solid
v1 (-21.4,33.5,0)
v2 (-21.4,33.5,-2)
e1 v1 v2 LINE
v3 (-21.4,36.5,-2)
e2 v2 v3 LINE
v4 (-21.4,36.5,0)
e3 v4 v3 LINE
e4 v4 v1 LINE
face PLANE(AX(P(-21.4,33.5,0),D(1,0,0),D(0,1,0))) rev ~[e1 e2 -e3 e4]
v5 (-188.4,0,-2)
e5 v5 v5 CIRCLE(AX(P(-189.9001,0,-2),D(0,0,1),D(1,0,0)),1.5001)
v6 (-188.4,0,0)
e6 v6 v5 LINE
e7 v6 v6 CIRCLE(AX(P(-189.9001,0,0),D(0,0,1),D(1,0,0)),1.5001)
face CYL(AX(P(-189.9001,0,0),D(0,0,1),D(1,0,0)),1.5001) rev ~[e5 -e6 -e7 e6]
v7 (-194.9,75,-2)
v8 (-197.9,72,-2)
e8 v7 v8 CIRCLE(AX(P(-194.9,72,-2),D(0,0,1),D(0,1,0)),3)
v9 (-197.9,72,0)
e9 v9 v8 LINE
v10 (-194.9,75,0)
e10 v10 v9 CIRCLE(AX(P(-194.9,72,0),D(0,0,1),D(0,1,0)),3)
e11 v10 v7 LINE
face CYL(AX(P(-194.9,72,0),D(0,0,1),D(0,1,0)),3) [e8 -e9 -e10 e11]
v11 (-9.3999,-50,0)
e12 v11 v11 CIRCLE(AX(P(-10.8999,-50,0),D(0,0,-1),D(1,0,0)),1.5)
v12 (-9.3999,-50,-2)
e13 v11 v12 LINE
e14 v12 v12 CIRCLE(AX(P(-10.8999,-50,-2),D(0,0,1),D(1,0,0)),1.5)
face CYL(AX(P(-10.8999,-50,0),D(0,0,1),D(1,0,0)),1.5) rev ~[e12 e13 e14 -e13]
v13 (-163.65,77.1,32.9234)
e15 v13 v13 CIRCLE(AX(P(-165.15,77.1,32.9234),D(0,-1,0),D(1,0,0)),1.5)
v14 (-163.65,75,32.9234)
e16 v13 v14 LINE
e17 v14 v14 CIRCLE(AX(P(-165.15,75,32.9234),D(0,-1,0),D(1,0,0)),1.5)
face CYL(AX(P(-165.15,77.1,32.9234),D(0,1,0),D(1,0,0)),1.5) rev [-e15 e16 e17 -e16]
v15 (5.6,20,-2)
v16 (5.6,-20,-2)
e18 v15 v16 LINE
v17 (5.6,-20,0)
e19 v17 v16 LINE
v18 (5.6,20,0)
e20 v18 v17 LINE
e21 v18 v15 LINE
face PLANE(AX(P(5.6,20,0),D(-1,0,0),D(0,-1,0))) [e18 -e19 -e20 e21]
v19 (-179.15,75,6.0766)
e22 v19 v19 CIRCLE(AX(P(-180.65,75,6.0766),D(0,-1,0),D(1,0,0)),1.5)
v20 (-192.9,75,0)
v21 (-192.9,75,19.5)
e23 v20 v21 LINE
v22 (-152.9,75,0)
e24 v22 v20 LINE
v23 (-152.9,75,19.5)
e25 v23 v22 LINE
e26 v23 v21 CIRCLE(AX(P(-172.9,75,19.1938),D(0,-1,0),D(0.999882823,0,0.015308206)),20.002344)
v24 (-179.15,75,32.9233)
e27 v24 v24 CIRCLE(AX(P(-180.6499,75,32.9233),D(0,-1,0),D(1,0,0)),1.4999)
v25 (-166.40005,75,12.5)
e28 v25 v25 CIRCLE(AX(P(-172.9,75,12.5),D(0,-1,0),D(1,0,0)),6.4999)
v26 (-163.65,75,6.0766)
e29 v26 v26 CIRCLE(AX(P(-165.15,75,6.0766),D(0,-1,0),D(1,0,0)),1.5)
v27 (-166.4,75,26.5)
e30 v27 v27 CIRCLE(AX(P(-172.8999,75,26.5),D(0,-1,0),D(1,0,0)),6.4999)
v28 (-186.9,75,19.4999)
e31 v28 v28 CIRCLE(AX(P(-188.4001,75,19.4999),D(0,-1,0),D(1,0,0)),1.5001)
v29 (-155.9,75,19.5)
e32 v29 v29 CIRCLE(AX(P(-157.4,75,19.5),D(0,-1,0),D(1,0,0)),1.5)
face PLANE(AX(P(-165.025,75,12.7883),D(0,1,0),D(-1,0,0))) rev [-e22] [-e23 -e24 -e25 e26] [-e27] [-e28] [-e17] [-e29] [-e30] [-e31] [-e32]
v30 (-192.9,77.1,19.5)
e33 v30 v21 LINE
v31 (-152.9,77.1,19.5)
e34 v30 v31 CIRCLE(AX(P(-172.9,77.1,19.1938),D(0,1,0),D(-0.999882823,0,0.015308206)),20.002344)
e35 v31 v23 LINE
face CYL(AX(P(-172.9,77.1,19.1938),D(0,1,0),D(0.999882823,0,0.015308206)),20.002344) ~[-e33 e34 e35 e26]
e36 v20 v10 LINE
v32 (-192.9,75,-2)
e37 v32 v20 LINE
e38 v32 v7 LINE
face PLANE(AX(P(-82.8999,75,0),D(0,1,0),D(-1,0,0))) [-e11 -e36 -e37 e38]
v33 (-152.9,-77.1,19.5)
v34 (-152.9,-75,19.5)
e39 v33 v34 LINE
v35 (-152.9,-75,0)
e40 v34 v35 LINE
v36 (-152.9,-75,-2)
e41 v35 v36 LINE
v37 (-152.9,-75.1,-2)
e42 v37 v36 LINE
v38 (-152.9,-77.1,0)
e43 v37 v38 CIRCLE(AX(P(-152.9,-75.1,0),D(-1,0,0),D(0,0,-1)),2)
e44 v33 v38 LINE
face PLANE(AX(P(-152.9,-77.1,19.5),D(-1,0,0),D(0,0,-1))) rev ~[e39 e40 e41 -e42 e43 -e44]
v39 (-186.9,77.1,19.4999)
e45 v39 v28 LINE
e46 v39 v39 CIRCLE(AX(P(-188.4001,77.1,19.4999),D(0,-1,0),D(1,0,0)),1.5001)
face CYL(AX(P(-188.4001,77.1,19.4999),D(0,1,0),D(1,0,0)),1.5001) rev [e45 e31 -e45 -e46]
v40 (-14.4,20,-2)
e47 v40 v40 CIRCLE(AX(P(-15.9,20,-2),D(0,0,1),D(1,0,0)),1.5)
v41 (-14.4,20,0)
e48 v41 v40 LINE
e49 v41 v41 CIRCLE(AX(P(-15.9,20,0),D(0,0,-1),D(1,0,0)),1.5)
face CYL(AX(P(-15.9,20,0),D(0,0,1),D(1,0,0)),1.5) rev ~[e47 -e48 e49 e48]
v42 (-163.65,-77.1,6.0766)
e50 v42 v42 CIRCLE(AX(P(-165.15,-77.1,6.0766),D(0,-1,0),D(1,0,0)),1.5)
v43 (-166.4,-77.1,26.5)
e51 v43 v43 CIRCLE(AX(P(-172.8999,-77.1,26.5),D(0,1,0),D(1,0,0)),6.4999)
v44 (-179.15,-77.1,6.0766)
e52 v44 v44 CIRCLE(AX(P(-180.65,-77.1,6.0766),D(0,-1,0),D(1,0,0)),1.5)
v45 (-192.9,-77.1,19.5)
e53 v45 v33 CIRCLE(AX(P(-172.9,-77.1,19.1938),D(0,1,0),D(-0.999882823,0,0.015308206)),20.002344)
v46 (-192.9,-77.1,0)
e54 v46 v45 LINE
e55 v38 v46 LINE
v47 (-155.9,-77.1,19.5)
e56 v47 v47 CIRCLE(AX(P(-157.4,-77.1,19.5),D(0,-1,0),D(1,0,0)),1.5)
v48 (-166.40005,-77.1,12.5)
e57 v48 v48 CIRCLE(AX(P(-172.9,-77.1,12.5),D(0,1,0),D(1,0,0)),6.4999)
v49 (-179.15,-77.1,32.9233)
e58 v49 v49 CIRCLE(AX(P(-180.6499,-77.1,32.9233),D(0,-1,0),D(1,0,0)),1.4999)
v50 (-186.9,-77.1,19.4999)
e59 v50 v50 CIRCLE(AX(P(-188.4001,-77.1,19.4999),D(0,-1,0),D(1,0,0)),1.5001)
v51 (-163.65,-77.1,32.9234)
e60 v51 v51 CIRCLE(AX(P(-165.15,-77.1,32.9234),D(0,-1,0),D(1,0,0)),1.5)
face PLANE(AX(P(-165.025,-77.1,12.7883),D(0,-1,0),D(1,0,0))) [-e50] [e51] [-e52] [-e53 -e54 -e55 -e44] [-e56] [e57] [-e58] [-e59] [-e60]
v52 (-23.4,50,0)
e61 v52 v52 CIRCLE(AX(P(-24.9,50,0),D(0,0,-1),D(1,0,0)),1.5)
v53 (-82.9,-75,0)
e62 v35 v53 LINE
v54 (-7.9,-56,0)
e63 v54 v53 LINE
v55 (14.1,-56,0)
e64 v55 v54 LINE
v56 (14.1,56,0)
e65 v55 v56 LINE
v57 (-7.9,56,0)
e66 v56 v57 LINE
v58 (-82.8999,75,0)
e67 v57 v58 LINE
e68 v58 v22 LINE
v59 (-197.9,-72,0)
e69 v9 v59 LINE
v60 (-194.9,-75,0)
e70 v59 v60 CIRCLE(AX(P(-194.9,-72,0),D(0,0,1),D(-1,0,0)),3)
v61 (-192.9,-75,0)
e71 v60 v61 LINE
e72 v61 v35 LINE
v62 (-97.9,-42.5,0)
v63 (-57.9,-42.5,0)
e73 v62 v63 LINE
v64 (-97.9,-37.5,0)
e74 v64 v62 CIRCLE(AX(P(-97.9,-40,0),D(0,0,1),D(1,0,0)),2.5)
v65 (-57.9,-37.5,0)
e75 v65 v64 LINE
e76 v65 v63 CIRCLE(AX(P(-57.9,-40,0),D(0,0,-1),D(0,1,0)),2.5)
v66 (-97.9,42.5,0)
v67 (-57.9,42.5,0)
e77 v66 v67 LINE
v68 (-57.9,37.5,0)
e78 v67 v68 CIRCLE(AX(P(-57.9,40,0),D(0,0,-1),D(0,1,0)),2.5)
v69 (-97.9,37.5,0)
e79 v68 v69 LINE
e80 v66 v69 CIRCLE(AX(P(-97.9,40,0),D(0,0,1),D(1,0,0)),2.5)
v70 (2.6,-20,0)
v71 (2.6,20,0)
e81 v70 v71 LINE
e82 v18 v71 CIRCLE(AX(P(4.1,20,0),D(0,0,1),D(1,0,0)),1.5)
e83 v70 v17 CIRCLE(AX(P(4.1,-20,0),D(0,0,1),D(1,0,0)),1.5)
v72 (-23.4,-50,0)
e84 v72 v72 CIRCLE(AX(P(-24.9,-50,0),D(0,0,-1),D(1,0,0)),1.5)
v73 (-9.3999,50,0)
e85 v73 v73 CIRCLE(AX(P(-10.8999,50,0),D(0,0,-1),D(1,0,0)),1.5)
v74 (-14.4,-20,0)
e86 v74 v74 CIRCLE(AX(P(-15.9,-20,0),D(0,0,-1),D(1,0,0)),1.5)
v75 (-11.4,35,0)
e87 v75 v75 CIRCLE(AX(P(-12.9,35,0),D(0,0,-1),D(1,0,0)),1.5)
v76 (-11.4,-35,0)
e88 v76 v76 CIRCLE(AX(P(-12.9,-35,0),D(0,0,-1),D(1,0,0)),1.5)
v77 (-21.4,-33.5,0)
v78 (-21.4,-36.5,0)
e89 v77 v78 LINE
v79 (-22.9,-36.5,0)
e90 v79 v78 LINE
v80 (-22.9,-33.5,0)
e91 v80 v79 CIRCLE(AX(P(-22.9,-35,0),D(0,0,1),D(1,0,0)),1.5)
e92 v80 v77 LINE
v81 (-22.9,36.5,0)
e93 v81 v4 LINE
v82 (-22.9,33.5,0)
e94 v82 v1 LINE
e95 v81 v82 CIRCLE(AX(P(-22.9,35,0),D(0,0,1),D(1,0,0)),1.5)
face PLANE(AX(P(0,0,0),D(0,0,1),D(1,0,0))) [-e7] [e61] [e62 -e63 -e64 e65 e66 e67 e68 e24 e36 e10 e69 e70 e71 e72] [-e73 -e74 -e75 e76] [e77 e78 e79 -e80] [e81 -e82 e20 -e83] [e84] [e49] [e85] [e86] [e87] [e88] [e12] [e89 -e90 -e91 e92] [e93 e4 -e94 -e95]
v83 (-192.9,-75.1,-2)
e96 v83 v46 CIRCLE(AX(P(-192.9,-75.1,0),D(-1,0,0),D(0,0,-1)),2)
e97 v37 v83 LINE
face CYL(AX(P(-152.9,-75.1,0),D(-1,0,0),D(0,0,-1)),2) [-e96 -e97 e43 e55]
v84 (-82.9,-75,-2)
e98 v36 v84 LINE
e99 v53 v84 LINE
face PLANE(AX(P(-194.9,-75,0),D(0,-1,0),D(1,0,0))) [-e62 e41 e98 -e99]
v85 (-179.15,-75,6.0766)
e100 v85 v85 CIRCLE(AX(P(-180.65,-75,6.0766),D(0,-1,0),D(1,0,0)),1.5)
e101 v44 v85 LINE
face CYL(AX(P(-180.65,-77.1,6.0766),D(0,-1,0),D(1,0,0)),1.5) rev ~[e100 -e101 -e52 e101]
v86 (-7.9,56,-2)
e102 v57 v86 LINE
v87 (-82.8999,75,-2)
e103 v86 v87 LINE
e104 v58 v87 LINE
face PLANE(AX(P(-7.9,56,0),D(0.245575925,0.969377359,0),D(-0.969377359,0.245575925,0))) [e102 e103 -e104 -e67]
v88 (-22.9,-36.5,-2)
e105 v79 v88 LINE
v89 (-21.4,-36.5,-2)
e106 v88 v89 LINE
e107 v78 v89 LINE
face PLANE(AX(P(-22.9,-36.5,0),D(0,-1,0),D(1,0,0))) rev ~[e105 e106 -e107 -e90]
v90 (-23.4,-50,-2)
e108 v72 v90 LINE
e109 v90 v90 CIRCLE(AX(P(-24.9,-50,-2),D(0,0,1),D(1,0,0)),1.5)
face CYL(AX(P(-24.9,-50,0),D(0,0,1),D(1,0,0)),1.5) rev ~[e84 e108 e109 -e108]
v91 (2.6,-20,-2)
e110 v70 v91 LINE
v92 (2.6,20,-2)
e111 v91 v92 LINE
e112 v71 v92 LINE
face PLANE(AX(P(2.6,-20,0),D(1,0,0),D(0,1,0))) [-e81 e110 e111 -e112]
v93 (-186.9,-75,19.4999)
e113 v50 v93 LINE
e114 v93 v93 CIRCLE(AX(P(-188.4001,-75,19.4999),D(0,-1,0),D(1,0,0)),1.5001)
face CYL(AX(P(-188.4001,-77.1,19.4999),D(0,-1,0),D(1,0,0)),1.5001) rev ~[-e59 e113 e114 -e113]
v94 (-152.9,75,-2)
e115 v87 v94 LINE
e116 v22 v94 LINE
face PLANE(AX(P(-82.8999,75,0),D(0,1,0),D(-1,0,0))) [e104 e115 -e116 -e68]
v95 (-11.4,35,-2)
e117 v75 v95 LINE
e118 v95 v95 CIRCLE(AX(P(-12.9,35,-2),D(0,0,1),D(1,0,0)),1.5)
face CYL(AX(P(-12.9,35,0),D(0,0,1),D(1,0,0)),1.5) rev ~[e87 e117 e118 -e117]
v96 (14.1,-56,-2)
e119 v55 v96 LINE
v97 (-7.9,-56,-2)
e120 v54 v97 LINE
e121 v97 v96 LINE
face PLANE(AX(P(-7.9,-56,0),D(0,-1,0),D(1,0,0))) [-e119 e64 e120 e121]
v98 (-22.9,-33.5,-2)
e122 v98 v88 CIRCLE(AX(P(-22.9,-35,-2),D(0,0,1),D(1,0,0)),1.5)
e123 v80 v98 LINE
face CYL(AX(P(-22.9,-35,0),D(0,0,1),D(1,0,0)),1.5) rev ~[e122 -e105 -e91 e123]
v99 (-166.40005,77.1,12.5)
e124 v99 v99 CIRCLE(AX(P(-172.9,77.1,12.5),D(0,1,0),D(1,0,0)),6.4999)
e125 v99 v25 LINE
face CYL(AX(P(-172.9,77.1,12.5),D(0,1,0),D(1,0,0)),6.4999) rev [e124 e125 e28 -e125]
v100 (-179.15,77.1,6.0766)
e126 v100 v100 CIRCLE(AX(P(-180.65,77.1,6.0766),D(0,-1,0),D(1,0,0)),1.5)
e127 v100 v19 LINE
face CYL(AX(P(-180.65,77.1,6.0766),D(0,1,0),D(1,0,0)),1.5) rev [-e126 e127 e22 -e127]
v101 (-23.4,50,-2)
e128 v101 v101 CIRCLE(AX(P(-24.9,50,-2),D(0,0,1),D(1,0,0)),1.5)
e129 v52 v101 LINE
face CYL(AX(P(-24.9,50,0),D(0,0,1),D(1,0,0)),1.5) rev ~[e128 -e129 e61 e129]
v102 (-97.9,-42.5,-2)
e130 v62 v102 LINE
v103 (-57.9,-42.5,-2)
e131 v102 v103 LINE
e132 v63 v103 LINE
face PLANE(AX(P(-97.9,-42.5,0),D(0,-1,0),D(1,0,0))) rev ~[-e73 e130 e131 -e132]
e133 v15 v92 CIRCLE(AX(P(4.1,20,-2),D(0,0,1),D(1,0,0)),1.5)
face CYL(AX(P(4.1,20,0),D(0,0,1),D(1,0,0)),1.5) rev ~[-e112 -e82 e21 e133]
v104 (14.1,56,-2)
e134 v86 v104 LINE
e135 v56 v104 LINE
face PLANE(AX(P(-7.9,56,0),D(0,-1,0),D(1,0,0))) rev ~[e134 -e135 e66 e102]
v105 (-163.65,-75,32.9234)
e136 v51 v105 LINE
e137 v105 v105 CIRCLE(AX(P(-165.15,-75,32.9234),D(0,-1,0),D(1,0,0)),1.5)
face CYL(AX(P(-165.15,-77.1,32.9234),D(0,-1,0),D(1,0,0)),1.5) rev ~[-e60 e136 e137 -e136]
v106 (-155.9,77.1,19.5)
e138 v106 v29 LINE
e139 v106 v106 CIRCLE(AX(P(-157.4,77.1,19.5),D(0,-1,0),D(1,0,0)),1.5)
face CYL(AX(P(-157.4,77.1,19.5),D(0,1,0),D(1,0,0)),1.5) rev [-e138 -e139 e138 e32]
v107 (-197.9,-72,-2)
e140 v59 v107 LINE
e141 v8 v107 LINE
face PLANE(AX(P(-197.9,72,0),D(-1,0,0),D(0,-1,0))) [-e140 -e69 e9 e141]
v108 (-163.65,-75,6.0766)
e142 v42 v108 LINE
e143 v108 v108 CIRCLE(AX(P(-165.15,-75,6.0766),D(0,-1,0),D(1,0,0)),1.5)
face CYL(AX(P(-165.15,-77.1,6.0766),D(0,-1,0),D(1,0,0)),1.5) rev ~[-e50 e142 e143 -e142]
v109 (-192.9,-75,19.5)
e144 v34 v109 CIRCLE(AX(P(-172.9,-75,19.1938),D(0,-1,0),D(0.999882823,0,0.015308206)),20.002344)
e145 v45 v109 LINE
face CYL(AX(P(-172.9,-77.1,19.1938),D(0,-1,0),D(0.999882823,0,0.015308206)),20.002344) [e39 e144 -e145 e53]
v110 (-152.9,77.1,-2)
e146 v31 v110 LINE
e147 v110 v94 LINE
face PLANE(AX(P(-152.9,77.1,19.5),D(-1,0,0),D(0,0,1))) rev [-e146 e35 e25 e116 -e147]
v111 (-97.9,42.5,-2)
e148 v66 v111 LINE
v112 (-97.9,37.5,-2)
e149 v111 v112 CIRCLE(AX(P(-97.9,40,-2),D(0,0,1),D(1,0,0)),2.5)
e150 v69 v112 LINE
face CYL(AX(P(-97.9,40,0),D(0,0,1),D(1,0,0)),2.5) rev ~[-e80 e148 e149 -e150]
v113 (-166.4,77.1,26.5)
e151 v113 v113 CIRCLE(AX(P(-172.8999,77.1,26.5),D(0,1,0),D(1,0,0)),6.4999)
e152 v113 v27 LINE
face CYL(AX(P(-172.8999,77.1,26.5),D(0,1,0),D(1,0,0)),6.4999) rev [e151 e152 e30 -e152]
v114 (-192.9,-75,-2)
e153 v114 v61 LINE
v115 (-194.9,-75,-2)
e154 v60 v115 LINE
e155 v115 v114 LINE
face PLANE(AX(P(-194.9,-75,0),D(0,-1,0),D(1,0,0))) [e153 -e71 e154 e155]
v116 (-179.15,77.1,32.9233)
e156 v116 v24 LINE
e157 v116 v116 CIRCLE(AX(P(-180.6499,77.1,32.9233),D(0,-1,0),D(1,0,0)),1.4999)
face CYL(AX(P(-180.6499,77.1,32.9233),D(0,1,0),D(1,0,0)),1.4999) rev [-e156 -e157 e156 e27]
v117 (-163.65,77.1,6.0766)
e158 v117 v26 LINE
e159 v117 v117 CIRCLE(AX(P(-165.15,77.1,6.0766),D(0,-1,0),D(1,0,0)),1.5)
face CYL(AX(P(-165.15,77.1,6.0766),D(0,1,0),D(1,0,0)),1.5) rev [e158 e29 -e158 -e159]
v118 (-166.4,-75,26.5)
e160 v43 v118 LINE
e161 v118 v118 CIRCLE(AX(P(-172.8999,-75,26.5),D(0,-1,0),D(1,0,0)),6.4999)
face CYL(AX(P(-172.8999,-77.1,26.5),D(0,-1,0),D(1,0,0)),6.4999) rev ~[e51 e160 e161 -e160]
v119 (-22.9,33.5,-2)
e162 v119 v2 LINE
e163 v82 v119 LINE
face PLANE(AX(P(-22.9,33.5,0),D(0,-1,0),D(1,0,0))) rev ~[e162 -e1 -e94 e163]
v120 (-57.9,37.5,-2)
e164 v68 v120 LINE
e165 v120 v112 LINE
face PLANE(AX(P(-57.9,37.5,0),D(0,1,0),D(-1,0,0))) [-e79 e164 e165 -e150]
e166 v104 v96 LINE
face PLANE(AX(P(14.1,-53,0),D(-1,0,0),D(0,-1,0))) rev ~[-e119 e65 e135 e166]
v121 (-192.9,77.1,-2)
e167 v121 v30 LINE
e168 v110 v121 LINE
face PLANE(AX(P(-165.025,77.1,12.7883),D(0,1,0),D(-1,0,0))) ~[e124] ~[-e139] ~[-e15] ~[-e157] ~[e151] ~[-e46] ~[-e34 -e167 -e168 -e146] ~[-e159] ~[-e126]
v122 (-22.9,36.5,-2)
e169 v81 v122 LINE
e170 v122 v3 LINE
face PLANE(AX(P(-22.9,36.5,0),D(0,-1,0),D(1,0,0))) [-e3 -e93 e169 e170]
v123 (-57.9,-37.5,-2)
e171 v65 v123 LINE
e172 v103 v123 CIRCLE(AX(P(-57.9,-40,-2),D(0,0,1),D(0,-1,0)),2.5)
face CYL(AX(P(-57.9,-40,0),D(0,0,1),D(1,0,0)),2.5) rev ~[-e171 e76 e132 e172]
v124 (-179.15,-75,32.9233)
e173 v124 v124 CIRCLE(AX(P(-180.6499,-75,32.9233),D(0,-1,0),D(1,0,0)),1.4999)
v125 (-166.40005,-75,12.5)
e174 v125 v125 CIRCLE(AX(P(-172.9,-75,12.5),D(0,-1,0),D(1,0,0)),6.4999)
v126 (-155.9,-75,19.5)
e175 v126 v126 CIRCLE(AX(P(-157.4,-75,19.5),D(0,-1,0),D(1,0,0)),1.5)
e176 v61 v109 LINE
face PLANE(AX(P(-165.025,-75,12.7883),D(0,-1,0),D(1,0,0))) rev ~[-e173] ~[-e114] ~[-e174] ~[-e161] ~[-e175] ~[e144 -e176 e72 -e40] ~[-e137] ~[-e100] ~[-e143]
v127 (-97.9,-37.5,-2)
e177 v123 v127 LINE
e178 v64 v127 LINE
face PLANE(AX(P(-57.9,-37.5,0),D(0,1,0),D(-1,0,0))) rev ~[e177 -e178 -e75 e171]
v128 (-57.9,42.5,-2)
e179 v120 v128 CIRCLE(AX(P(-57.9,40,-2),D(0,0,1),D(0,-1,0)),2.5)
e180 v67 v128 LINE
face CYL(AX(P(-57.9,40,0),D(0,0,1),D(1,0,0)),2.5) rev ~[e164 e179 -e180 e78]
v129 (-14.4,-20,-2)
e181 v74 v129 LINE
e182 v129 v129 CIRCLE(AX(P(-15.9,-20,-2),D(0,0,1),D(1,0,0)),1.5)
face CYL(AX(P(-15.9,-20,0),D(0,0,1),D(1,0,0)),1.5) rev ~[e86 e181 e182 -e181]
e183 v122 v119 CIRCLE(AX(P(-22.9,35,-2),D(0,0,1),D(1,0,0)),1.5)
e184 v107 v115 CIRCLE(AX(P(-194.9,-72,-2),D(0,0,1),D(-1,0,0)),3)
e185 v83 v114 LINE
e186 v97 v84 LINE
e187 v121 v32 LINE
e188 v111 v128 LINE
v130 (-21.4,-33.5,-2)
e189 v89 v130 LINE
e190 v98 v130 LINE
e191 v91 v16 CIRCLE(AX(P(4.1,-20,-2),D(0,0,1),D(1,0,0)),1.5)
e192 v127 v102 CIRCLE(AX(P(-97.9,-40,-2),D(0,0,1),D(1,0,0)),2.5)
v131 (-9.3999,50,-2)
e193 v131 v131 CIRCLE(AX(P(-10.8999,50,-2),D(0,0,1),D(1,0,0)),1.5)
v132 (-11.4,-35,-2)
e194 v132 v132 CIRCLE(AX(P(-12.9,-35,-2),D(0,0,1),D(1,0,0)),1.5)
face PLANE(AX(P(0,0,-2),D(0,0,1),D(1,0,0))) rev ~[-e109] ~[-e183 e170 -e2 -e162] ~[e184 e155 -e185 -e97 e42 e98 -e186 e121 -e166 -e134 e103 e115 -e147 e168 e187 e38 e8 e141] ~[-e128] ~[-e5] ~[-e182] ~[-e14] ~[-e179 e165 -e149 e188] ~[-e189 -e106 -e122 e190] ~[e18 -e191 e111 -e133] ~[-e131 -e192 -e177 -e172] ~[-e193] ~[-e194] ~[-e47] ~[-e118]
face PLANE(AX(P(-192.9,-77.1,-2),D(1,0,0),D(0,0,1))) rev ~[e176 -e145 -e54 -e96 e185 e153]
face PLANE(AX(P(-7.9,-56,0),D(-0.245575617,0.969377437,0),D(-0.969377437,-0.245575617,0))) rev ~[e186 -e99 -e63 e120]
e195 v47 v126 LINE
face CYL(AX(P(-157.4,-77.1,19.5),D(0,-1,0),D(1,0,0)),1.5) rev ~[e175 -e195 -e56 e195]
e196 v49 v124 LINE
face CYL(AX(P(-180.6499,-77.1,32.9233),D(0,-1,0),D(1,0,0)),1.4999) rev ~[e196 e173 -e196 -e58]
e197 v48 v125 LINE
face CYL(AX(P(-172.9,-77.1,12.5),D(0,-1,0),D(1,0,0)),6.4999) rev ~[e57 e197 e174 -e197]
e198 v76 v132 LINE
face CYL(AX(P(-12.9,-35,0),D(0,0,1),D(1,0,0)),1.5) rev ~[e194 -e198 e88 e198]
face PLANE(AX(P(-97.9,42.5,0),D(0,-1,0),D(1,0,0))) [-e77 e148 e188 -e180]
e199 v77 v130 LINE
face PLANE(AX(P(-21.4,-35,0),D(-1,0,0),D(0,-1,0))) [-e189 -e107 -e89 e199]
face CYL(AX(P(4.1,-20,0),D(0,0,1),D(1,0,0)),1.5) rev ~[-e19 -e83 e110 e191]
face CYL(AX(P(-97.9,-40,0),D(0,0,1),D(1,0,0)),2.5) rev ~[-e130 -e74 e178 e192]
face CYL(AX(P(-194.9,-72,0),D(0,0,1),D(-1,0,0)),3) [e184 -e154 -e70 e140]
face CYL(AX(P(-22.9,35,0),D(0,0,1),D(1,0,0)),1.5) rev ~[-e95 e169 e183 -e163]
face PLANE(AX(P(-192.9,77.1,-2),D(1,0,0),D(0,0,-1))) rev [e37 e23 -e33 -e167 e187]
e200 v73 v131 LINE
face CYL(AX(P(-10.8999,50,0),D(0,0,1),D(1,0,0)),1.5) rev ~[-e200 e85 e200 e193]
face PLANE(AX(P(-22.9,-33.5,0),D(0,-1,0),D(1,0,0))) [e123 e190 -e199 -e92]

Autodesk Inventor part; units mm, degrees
ref_plane "YZ Plane" through (0, 0, 0) normal (1, 0, 0) x (0, 1, 0)
ref_plane "XZ Plane" through (0, 0, 0) normal (0, 1, 0) x (-1, 0, 0)
ref_plane "XY Plane" through (0, 0, 0) normal (0, 0, 1) x (1, 0, 0)
ref_plane "Plano de trabajo1" through (0, 0, 0) normal (0, 0, 1) x (1, 0, 0)
sketch "Boceto1" plane through (0, 0, 0) normal (0, 0, 1) x (1, 0, 0)
  line L0 (14.1, -53) -> (14.1, 53)
  line L1 (-197.9, 72) -> (-197.9, -72)
  line L2 (-194.9, -75) -> (-82.9, -75)
  line L3 (-7.9, -56) -> (14.1, -56)
  line L4 (5.6, 20) -> (5.6, -20)
  line L5 (2.6, -20) -> (2.6, 20)
  circle A0 centre (4.1, -20) radius 1.5
  circle A1 centre (4.1, 20) radius 1.5
  line L6 (-14.4, 20) -> (-14.4, -20)
  line L7 (-17.4, -20) -> (-17.4, 20)
  circle A2 centre (-15.9, -20) radius 1.5
  circle A3 centre (-15.9, 20) radius 1.5
  line L8 (-12.9, -51.5) -> (-12.9, -48.5)
  line L9 (-14.4, -36.5) -> (-14.4, -33.5)
  line L10 (-21.4, -33.5) -> (-21.4, -36.5)
  line L11 (-22.9, -48.5) -> (-22.9, -51.5)
  circle A4 centre (-24.9, -50) radius 1.5
  line L12 (-22.9, -48.5) -> (-24.9, -48.5)
  line L13 (-22.9, -51.5) -> (-24.9, -51.5)
  line L14 (-10.9, -51.5) -> (-12.9, -51.5)
  line L15 (-10.9, -48.5) -> (-12.9, -48.5)
  circle A5 centre (-10.8999, -50) radius 1.5
  line L16 (-22.9, -33.5) -> (-21.4, -33.5)
  line L17 (-22.9, -36.5) -> (-21.4, -36.5)
  circle A6 centre (-22.9, -35) radius 1.5
  line L18 (-12.9, -33.5) -> (-14.4, -33.5)
  line L19 (-12.9, -36.5) -> (-14.4, -36.5)
  circle A7 centre (-12.9, -35) radius 1.5
  line L20 (-97.9, -42.5) -> (-57.9, -42.5)
  line L21 (-57.9, -37.5) -> (-97.9, -37.5)
  circle A8 centre (-57.9, -40) radius 2.5
  circle A9 centre (-97.9, -40) radius 2.5
  line L22 (14.1, 0) -> (-197.9, 0) construction
  line L23 (-12.9, 51.5) -> (-12.9, 48.5)
  line L24 (-14.4, 36.5) -> (-14.4, 33.5)
  line L25 (-21.4, 33.5) -> (-21.4, 36.5)
  line L26 (-22.9, 48.5) -> (-22.9, 51.5)
  circle A10 centre (-24.9, 50) radius 1.5
  line L27 (-22.9, 48.5) -> (-24.9, 48.5)
  line L28 (-22.9, 51.5) -> (-24.9, 51.5)
  line L29 (-10.9, 51.5) -> (-12.9, 51.5)
  line L30 (-10.9, 48.5) -> (-12.9, 48.5)
  circle A11 centre (-10.8999, 50) radius 1.5
  line L31 (-22.9, 33.5) -> (-21.4, 33.5)
  line L32 (-22.9, 36.5) -> (-21.4, 36.5)
  circle A12 centre (-22.9, 35) radius 1.5
  line L33 (-12.9, 33.5) -> (-14.4, 33.5)
  line L34 (-12.9, 36.5) -> (-14.4, 36.5)
  circle A13 centre (-12.9, 35) radius 1.5
  line L35 (-97.9, 42.5) -> (-57.9, 42.5)
  line L36 (-57.9, 37.5) -> (-97.9, 37.5)
  circle A14 centre (-57.9, 40) radius 2.5
  circle A15 centre (-97.9, 40) radius 2.5
  line L37 (-82.8999, 75) -> (-194.9, 75)
  arc A16 (-197.9, -72) -> (-194.9, -75) centre (-194.9, -72) ccw
  arc A17 (-194.9, 75) -> (-197.9, 72) centre (-194.9, 72) ccw
  arc A18 (11.1, -56) -> (14.1, -53) centre (11.1, -53) ccw
  line L38 (-7.9, 56) -> (14.1, 56)
  arc A19 (14.1, 53) -> (11.1, 56) centre (11.1, 53) ccw
  line L39 (-7.9, -56) -> (-82.9, -75)
  line L40 (-7.9, 56) -> (-82.8999, 75)
  line L41 (-197.9, 75) -> (14.1, 75)
  line L42 (14.1, 75) -> (14.1, -75)
  line L43 (14.1, -75) -> (-197.9, -75)
  line L44 (-197.9, -75) -> (-197.9, 75)
  circle A20 centre (-189.9001, 0) radius 1.5001 projected
  point P0 (0, 0)
  point P1 (14.1, 53)
  point P2 (-82.8999, 75)
  point P3 (-82.9, -75)
  point P4 (14.1, -53)
  point P5 (-97.8931, 37.5)
  point P6 (-97.8889, 42.5)
  point P7 (-57.9079, 42.5)
  point P8 (-57.9073, 37.5)
  point P9 (-22.8934, 36.5)
  point P10 (-21.4, 35.0152)
  point P11 (-21.4, 34.9847)
  point P12 (-22.8854, 33.5)
  point P13 (5.6, 19.9882)
  point P14 (5.6, -19.9951)
  point P15 (2.6, -19.9929)
  point P16 (2.6, 19.9946)
  point P17 (-21.4, -34.9847)
  point P18 (-21.4, -35.0152)
  point P19 (-22.8934, -36.5)
  point P20 (-22.8854, -33.5)
  point P21 (-97.8889, -42.5)
  point P22 (-97.8931, -37.5)
  point P23 (-57.9073, -37.5)
  point P24 (-57.9079, -42.5)
  dimension "d1" = 3
  dimension "d2" = 3
extrude "Extrusión1" add sketch "Boceto1" against normal blind 2 contours A18 L3 L39 L2 A16 L1 A17 L37 L40 L38 A19 L0 | L42 L3 A18 | A19 L38 L42 | L6 A2 L7 A3 | L8 L15 A5 L14 | L9 A7 L19 | L9 L18 A7 | L11 L13 A4 L12 | L29 A11 L30 L23 | L34 A13 L24 | A13 L33 L24 | L27 A10 L28 L26
ref_plane "Plano de trabajo2" through (-165.025, -77.1, 12.7883) normal (0, -1, 0) x (1, 0, 0)
sketch "Boceto2" plane through (-165.025, -77.1, 12.7883) normal (0, -1, 0) x (1, 0, 0)
  line L0 (12.125, 6.7117) -> (12.125, -14.7883)
  circle A0 centre (-0.125, 20.1351) radius 1.5
  circle A1 centre (-15.6249, 20.135) radius 1.4999
  line L1 (-1.375, 13.7117) -> (-1.375, -0.2883)
  line L2 (-27.875, -14.7883) -> (-27.875, 6.7117)
  circle A2 centre (-7.8749, 13.7117) radius 6.4999
  line L3 (-14.375, -0.2883) -> (-14.375, 13.7117)
  circle A3 centre (-7.875, -0.2883) radius 6.4999
  circle A4 centre (-23.3751, 6.7116) radius 1.5001
  circle A5 centre (-15.625, -6.7117) radius 1.5
  circle A6 centre (7.625, 6.7117) radius 1.5
  line L4 (82.125, -14.7883) -> (-29.875, -14.7883)
  line L5 (-11.348, 26.4079) -> (-4.402, 26.4079)
  circle A7 centre (-0.125, -6.7117) radius 1.5
  arc A8 (12.125, 6.7117) -> (-27.875, 6.7117) centre (-7.875, 6.4055) ccw
extrude "Extrusión2" add sketch "Boceto2" against normal up to surface (2.1 mm away) contours L0 L4 L2 A8 | L1 A3 L3 A2
fillet "Empalme1" radius 2 1 edges at (-172.9, -77.1, -2)
mirror "Simetría1" about plane through (0, 0, 0) normal (0, 1, 0) of "Extrusión2"
properties part number "Base1"
